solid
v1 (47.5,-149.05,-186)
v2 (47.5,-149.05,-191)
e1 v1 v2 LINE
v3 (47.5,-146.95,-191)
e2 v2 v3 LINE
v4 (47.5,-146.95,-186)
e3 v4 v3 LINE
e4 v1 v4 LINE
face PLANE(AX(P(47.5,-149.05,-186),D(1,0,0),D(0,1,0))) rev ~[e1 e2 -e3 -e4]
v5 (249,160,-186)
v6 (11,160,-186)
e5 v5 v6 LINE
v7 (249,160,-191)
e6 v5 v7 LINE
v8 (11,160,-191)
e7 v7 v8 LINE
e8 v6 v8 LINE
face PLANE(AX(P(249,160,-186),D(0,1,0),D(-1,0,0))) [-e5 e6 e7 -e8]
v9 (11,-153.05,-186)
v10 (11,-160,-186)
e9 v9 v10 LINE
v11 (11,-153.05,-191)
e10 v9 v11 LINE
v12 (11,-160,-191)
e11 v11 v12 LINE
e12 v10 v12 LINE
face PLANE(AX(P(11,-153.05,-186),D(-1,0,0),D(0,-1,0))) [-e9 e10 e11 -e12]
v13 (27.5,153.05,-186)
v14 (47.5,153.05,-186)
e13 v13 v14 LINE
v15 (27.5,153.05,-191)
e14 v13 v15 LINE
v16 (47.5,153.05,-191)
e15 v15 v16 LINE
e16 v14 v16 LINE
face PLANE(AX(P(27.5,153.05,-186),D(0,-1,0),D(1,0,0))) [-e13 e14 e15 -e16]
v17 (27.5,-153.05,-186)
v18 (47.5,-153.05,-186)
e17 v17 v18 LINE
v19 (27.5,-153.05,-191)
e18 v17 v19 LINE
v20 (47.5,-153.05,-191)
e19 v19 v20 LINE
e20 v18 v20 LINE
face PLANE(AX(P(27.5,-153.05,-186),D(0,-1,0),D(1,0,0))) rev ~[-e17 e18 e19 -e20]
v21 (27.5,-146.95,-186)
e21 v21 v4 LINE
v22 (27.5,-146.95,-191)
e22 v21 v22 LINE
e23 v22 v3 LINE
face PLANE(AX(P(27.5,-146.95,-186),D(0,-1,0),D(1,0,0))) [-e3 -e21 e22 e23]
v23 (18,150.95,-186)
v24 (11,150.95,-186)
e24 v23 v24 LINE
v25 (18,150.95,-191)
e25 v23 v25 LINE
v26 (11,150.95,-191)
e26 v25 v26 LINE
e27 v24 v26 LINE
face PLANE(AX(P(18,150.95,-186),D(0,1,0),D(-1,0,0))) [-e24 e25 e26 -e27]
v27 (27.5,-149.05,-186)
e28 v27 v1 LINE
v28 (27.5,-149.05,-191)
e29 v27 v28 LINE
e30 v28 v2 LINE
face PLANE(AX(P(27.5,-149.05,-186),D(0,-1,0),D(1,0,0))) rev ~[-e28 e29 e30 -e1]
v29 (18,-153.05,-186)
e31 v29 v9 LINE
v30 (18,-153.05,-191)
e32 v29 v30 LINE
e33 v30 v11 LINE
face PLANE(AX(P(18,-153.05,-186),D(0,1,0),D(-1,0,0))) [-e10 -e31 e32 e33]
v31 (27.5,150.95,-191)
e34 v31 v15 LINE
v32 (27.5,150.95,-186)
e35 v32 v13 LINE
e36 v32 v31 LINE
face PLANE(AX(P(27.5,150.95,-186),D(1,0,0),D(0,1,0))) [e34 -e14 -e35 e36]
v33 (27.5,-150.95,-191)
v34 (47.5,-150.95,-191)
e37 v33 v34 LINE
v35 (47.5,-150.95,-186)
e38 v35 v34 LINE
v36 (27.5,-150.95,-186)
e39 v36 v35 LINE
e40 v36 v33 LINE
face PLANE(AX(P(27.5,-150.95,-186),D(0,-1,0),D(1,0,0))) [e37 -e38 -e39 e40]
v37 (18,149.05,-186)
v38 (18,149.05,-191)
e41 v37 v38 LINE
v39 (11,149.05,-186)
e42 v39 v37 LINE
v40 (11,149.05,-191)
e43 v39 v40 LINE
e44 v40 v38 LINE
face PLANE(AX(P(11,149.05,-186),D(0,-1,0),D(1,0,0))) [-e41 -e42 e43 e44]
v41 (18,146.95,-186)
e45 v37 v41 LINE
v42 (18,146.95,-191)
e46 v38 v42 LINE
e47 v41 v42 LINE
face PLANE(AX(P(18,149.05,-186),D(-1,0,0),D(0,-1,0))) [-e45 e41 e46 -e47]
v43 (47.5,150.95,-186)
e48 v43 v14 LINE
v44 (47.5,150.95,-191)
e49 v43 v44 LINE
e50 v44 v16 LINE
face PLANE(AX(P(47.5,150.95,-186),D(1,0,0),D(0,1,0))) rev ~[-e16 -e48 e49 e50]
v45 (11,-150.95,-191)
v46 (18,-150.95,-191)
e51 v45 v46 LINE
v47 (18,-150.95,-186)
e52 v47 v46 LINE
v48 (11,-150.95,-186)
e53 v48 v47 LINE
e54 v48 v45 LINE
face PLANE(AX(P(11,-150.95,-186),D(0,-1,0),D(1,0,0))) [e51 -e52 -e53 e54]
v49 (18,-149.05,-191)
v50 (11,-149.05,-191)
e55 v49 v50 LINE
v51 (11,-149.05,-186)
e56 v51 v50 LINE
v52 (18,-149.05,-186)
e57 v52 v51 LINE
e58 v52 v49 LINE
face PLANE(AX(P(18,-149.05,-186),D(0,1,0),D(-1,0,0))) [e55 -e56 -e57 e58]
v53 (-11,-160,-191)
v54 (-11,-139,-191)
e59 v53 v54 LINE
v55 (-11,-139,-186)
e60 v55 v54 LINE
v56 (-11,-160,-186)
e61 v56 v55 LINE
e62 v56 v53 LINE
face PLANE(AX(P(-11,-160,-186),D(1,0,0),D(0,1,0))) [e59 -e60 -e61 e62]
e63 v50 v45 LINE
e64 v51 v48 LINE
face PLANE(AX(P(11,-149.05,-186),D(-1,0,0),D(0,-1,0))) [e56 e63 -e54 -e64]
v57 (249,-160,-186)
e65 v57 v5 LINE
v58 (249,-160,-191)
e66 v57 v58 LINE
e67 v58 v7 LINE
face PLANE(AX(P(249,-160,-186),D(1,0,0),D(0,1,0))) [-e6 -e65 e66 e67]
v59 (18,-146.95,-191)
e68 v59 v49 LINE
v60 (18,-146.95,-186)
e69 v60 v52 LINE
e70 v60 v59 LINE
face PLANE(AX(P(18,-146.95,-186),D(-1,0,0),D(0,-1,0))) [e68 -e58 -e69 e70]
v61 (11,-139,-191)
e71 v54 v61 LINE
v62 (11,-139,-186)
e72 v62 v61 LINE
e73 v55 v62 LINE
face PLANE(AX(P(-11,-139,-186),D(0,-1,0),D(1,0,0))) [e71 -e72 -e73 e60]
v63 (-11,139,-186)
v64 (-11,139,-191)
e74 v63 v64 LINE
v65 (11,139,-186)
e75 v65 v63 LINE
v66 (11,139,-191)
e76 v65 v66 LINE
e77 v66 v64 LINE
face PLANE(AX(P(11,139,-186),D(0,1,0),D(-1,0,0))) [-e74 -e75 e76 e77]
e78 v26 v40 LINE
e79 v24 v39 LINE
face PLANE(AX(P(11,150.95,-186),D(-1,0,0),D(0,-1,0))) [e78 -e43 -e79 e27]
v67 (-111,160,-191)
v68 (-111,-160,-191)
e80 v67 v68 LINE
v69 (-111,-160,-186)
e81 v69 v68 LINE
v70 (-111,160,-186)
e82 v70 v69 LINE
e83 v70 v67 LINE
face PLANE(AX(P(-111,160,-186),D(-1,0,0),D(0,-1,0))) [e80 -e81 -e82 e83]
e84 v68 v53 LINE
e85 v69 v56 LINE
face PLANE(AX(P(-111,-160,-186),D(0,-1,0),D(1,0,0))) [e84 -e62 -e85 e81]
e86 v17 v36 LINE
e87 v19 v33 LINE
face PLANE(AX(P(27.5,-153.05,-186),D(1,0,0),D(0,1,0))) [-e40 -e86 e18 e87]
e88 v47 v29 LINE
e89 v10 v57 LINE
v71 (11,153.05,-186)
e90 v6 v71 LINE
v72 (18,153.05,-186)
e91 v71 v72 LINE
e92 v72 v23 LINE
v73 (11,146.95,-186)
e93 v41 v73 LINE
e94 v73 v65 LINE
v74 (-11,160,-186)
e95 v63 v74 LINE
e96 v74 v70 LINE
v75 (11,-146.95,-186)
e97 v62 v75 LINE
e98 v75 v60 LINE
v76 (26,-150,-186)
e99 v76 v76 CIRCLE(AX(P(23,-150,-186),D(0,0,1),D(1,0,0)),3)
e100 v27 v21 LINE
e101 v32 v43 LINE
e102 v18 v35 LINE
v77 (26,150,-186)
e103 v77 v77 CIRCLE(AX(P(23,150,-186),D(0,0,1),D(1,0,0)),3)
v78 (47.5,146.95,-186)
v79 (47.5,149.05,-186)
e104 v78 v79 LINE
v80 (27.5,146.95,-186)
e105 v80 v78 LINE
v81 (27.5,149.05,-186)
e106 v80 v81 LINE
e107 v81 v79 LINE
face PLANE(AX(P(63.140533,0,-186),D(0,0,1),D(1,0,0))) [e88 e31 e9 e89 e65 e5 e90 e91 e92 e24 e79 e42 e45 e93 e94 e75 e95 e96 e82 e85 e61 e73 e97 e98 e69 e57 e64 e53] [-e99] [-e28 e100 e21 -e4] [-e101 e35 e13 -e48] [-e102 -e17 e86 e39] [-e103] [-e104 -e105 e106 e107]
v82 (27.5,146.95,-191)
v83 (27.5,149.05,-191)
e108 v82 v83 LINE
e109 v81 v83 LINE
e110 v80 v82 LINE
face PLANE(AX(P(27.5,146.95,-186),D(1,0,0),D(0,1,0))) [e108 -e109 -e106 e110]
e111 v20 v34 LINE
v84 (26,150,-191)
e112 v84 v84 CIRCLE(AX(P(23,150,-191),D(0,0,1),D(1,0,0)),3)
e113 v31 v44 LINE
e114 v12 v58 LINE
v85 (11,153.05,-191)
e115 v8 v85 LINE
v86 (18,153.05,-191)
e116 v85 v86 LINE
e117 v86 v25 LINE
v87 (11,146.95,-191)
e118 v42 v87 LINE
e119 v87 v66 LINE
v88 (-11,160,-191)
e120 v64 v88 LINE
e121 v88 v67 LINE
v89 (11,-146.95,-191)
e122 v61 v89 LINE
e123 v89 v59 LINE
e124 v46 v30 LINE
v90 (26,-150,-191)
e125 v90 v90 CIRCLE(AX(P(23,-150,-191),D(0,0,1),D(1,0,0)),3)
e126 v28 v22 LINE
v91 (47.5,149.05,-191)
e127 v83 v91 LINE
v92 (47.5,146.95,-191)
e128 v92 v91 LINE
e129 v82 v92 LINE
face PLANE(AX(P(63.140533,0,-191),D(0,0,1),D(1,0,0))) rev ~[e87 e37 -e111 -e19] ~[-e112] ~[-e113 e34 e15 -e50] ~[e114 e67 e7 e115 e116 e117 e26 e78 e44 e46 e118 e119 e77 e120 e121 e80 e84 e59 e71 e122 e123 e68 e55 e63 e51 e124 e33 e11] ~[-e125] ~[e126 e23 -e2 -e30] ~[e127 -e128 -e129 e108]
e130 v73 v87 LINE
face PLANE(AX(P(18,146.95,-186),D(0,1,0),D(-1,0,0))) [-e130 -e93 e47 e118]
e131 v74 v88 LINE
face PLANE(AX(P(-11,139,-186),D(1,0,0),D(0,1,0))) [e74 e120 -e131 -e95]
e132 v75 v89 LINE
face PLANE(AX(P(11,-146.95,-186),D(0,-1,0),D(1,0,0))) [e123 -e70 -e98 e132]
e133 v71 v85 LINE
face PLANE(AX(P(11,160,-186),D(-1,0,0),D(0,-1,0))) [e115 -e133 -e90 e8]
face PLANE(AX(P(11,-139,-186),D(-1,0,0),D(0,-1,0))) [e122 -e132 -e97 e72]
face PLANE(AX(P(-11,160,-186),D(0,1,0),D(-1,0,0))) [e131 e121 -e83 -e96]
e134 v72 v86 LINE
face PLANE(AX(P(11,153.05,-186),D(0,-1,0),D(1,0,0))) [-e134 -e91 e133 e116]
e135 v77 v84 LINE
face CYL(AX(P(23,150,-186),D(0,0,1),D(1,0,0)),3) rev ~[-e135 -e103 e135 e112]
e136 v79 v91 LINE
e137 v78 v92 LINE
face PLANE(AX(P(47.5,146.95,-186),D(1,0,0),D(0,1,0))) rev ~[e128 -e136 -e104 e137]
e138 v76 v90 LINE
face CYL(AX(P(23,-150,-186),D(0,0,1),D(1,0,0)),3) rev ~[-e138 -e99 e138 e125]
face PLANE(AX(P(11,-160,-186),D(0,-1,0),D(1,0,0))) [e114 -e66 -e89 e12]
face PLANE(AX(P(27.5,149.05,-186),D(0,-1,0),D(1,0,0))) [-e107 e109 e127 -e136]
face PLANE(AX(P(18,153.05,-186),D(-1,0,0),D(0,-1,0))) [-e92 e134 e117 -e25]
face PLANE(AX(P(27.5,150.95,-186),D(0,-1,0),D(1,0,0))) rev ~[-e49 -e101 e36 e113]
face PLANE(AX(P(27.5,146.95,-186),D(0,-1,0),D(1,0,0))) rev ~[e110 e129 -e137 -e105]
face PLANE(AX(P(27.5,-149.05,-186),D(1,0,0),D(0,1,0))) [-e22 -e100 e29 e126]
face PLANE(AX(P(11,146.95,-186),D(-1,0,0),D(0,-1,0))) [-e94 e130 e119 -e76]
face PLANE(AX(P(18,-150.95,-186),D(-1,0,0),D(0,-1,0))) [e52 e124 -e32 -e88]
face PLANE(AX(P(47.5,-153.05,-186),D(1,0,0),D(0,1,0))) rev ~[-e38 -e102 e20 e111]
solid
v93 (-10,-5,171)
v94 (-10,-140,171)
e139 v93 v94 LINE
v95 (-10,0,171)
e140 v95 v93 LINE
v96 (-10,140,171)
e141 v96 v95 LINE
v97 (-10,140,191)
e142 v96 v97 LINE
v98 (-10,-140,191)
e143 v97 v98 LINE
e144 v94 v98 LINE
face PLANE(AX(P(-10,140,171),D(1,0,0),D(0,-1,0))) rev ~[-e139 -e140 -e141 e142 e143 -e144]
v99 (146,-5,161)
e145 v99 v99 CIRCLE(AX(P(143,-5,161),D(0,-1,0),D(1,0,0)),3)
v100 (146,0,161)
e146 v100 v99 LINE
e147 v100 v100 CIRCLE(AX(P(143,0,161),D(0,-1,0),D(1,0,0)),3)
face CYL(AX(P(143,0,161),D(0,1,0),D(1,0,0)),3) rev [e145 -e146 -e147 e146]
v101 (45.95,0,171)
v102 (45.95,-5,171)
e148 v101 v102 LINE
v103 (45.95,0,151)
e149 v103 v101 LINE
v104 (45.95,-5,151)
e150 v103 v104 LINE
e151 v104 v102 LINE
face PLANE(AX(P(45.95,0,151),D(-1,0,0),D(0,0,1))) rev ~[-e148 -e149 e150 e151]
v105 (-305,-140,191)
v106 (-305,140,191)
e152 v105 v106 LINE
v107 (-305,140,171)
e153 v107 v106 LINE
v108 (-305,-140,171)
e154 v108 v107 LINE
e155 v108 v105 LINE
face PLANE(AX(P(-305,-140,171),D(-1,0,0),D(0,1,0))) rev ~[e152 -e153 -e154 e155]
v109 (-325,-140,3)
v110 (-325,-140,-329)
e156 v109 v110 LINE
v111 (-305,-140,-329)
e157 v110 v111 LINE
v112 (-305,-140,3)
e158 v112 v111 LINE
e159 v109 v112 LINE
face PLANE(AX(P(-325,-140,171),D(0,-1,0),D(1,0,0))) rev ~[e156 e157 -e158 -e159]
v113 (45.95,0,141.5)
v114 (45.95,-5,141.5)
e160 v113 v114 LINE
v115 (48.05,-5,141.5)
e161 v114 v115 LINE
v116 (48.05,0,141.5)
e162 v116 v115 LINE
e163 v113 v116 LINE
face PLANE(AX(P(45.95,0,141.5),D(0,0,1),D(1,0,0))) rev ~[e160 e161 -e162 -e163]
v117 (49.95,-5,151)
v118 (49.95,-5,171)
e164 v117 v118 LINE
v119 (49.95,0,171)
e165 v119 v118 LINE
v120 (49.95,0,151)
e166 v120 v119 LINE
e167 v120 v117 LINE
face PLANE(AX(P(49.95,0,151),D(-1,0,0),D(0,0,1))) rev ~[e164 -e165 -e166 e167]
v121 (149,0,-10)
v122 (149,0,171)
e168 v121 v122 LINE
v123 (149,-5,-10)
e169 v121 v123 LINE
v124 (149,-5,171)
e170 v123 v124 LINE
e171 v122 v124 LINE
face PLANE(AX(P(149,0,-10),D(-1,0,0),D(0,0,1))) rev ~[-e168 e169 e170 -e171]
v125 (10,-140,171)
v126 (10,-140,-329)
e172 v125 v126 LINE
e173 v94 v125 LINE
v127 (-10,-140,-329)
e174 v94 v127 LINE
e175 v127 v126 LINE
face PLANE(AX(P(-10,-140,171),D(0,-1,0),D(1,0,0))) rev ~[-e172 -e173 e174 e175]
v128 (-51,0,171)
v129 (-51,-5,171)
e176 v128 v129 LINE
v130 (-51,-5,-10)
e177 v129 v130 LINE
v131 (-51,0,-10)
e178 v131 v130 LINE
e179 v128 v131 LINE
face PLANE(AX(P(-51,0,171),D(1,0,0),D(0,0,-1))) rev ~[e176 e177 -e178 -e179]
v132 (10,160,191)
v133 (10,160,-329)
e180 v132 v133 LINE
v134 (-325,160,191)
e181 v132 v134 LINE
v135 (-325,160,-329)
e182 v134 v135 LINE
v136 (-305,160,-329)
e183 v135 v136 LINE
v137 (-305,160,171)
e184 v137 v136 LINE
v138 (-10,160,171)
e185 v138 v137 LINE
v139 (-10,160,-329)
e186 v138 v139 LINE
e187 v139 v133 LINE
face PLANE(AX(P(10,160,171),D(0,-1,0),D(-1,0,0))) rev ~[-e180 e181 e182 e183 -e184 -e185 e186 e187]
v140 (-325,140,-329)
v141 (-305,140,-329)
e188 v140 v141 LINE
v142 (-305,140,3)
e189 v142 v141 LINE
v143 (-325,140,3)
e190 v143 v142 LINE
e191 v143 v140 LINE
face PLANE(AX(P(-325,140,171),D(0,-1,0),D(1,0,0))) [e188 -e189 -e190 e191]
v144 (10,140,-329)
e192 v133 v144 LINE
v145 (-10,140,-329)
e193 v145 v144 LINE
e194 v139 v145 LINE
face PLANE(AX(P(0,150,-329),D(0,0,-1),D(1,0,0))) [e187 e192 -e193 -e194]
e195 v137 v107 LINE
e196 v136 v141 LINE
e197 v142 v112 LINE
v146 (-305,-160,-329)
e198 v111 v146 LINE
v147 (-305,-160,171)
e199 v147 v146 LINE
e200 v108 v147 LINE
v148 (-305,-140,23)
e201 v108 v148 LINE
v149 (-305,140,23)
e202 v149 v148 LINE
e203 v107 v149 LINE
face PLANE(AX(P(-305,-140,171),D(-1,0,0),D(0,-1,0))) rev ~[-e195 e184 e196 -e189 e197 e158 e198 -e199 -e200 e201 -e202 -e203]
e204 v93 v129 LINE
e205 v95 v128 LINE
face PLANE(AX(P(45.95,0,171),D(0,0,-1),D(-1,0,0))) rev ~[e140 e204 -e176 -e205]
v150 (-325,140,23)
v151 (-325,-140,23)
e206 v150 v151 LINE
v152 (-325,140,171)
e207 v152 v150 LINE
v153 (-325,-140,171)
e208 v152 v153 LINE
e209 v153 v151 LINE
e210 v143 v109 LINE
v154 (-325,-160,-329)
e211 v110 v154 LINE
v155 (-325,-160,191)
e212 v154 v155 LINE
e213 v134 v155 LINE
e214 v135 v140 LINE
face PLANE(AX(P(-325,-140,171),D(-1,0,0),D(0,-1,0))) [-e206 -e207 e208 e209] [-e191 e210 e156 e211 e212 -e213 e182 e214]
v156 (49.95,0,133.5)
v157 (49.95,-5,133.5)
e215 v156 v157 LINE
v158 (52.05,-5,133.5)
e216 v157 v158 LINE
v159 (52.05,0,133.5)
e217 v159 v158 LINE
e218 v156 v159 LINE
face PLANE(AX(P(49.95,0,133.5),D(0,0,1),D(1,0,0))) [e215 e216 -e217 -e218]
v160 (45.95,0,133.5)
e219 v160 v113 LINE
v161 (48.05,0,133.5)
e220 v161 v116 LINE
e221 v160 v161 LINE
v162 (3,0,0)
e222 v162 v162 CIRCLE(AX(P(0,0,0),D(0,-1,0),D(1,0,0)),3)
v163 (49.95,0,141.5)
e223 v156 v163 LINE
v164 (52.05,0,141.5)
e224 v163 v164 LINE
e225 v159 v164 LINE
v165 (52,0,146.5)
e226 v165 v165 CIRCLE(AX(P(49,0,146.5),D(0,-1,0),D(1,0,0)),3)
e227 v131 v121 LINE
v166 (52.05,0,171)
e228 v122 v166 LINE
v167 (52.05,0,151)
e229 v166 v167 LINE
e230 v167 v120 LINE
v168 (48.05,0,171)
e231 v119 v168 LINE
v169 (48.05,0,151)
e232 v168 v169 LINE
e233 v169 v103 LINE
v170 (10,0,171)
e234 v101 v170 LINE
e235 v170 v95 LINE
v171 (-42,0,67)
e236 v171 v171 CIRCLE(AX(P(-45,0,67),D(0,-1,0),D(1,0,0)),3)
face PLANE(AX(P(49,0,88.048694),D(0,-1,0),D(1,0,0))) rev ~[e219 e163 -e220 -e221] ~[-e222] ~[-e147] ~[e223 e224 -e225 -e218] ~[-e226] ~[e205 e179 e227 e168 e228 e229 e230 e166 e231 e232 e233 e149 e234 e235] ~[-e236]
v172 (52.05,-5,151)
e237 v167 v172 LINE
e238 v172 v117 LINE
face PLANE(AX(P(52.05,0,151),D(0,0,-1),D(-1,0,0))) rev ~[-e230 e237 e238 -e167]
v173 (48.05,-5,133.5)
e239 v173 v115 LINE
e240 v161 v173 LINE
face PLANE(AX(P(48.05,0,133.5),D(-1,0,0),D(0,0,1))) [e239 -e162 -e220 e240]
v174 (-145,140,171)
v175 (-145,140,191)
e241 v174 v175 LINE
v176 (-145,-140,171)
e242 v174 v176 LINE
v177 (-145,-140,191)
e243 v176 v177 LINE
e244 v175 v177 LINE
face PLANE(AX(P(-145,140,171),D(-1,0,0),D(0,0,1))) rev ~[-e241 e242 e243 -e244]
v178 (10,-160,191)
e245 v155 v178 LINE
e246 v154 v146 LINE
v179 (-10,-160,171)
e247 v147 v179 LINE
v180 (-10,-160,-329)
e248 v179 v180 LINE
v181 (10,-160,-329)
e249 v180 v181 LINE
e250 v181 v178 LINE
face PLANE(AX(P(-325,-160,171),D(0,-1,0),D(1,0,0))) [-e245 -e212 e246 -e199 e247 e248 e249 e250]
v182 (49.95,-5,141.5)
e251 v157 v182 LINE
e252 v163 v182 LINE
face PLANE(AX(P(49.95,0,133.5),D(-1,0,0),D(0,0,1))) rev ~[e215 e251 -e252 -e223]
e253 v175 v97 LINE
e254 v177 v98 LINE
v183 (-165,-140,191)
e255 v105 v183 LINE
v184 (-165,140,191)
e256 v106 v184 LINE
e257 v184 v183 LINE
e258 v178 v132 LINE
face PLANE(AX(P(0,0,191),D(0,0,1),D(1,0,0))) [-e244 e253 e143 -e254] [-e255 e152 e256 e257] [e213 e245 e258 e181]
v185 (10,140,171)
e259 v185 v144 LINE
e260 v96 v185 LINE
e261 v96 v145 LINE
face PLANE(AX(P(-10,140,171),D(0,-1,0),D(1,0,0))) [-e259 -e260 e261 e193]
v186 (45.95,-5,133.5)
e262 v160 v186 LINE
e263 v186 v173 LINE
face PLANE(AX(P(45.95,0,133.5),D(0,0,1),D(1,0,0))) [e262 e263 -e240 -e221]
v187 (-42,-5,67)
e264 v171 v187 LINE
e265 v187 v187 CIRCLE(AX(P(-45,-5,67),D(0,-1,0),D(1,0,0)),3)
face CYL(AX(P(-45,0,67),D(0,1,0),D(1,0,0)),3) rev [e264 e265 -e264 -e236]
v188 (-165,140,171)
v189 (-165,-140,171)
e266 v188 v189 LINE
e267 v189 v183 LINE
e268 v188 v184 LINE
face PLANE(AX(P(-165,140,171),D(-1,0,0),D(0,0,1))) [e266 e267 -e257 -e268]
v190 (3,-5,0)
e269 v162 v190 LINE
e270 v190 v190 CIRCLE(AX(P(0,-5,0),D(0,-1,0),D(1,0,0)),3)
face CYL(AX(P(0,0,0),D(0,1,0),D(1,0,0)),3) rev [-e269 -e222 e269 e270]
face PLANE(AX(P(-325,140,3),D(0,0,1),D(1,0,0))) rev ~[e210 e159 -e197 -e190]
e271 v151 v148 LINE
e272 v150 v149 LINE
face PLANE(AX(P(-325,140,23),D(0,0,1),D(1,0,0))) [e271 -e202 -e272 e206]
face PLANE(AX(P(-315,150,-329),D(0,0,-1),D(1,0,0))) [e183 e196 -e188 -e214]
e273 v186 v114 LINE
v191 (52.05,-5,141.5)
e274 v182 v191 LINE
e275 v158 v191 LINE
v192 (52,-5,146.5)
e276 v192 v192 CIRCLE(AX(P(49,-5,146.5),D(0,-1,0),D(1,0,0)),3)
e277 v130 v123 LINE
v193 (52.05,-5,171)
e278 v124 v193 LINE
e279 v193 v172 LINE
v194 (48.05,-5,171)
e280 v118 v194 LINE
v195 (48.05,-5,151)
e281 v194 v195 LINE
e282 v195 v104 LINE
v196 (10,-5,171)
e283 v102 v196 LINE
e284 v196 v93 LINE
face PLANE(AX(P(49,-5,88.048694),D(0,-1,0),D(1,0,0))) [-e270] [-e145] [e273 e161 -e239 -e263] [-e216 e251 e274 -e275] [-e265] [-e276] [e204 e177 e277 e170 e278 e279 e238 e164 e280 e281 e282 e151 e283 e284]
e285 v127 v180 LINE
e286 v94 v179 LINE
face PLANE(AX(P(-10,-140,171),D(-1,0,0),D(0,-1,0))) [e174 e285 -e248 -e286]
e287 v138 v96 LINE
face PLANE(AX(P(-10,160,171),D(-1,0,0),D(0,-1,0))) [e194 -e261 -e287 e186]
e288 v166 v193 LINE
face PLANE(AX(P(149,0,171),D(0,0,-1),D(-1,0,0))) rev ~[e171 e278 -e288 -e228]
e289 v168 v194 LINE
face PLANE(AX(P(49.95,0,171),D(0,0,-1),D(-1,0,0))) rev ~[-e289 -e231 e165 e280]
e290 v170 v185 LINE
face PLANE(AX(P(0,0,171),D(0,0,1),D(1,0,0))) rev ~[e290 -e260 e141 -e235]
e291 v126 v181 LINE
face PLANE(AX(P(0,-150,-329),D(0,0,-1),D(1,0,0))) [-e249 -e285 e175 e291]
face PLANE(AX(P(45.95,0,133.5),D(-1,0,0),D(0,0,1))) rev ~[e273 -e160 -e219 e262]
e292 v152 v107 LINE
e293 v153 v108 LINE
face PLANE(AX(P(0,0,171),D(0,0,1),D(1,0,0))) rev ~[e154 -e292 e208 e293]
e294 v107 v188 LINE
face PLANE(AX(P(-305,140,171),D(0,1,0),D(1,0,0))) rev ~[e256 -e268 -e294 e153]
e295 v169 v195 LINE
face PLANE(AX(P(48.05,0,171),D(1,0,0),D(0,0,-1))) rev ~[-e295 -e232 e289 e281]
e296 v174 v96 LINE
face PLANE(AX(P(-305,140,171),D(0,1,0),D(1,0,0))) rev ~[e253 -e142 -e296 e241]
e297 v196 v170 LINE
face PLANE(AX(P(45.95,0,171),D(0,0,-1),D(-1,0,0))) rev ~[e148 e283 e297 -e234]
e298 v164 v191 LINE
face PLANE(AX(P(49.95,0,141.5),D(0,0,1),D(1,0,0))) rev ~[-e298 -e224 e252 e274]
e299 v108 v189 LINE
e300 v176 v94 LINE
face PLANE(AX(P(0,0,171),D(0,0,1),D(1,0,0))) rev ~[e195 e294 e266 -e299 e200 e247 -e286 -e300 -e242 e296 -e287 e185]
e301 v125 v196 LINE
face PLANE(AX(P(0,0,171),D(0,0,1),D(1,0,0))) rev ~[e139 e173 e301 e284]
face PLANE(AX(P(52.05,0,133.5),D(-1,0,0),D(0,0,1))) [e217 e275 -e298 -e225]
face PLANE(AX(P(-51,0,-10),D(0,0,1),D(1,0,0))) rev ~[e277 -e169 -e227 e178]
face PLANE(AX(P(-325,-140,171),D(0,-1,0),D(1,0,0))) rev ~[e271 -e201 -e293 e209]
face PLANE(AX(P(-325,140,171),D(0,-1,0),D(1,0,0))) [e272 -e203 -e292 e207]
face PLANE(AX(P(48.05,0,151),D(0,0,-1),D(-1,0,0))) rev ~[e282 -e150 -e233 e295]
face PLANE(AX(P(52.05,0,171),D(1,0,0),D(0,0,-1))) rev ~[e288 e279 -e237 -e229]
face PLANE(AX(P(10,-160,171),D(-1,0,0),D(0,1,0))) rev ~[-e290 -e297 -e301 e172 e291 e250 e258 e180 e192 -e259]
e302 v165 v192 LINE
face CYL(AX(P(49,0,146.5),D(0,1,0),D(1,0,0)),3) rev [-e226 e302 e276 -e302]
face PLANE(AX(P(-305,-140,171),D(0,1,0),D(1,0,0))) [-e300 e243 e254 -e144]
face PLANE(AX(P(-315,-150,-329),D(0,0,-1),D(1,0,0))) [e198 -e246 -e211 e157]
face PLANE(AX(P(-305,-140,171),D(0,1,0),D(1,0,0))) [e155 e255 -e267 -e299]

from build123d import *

# Parameters (mm, degrees)
F0_R      = 3
F0_W      = 2.1
F0_H      = 8
F1_DEPTH  = 5
F3_W      = 295
F3_H      = 20
F4_DEPTH  = 20
F5_W      = 20
F5_H      = 20
F6_DEPTH  = 500
F8_R      = 3
F8_W      = 20
F8_H      = 2.1
F9_DEPTH  = 5
F10_W     = 20
F10_H     = 20
F11_DEPTH = 280
F12_W     = 20
F12_H     = 20
F13_DEPTH = 280


with BuildPart() as f1:
    # F0 (on Front) → F1 (new body)
    with BuildSketch(Plane.XZ):
        Polygon((-51, 171), (-51, -10), (149, -10), (149, 171), (52.05, 171), (52.05, 151), (49.95, 151), (49.95, 171), (48.05, 171), (48.05, 151), (45.95, 151), (45.95, 171), align=None)
        Circle(F0_R, mode=Mode.SUBTRACT)
        with Locations((-45, 67)):
            Circle(F0_R, mode=Mode.SUBTRACT)
        with Locations((47, 137.5)):
            Rectangle(F0_W, F0_H, mode=Mode.SUBTRACT)
        with Locations((51, 137.5)):
            Rectangle(F0_W, F0_H, mode=Mode.SUBTRACT)
        with Locations((49, 146.5)):
            Circle(F0_R, mode=Mode.SUBTRACT)
        with Locations((143, 161)):
            Circle(F0_R, mode=Mode.SUBTRACT)
    extrude(amount=F1_DEPTH)

    # F3 (on offset) → F4 (join)
    with BuildSketch(Plane.XY.offset(171)):
        Polygon((-10, -160), (10, -160), (10, 160), (-10, 160), (-10, 140), (-10, -140), align=None)
        with Locations((-157.5, -150)):
            Rectangle(F3_W, F3_H)
        Polygon((-325, -160), (-305, -160), (-305, -140), (-305, 140), (-305, 160), (-325, 160), align=None)
        with Locations((-157.5, 150)):
            Rectangle(F3_W, F3_H)
    extrude(amount=F4_DEPTH)

    # F5 (on face) → F6 (join)
    with BuildSketch(Plane(origin=(0, 0, 171), x_dir=(1, 0, 0), z_dir=(0, 0, -1))):
        with Locations((-315, 150)):
            Rectangle(F5_W, F5_H)
        with Locations((-315, -150)):
            Rectangle(F5_W, F5_H)
        with Locations((0, -150)):
            Rectangle(F5_W, F5_H)
        with Locations((0, 150)):
            Rectangle(F5_W, F5_H)
    extrude(amount=F6_DEPTH)

    # F10 (on face) → F11 (join)
    with BuildSketch(Plane.XZ.offset(-140)):
        with Locations((-315, 13)):
            Rectangle(F10_W, F10_H)
    extrude(amount=F11_DEPTH)

    # F12 (on face) → F13 (join)
    with BuildSketch(Plane.XZ.offset(-140)):
        with Locations((-155, 181)):
            Rectangle(F12_W, F12_H)
    extrude(amount=F13_DEPTH)


with BuildPart() as f9:
    # F8 (on offset) → F9 (new body)
    with BuildSketch(Plane.XY.offset(-186)):
        Polygon((-11, -139), (11, -139), (11, -146.95), (18, -146.95), (18, -149.05), (11, -149.05), (11, -150.95), (18, -150.95), (18, -153.05), (11, -153.05), (11, -160), (249, -160), (249, 160), (11, 160), (11, 153.05), (18, 153.05), (18, 150.95), (11, 150.95), (11, 149.05), (18, 149.05), (18, 146.95), (11, 146.95), (11, 139), (0, 139), (-11, 139), (-11, 160), (-111, 160), (-111, -160), (-11, -160), align=None)
        with Locations((23, -150)):
            Circle(F8_R, mode=Mode.SUBTRACT)
        with Locations((37.5, -152)):
            Rectangle(F8_W, F8_H, mode=Mode.SUBTRACT)
        with Locations((37.5, -148)):
            Rectangle(F8_W, F8_H, mode=Mode.SUBTRACT)
        with Locations((23, 150)):
            Circle(F8_R, mode=Mode.SUBTRACT)
        with Locations((37.5, 148)):
            Rectangle(F8_W, F8_H, mode=Mode.SUBTRACT)
        with Locations((37.5, 152)):
            Rectangle(F8_W, F8_H, mode=Mode.SUBTRACT)
    extrude(amount=-F9_DEPTH)


solid = Compound([f1.part, f9.part])
